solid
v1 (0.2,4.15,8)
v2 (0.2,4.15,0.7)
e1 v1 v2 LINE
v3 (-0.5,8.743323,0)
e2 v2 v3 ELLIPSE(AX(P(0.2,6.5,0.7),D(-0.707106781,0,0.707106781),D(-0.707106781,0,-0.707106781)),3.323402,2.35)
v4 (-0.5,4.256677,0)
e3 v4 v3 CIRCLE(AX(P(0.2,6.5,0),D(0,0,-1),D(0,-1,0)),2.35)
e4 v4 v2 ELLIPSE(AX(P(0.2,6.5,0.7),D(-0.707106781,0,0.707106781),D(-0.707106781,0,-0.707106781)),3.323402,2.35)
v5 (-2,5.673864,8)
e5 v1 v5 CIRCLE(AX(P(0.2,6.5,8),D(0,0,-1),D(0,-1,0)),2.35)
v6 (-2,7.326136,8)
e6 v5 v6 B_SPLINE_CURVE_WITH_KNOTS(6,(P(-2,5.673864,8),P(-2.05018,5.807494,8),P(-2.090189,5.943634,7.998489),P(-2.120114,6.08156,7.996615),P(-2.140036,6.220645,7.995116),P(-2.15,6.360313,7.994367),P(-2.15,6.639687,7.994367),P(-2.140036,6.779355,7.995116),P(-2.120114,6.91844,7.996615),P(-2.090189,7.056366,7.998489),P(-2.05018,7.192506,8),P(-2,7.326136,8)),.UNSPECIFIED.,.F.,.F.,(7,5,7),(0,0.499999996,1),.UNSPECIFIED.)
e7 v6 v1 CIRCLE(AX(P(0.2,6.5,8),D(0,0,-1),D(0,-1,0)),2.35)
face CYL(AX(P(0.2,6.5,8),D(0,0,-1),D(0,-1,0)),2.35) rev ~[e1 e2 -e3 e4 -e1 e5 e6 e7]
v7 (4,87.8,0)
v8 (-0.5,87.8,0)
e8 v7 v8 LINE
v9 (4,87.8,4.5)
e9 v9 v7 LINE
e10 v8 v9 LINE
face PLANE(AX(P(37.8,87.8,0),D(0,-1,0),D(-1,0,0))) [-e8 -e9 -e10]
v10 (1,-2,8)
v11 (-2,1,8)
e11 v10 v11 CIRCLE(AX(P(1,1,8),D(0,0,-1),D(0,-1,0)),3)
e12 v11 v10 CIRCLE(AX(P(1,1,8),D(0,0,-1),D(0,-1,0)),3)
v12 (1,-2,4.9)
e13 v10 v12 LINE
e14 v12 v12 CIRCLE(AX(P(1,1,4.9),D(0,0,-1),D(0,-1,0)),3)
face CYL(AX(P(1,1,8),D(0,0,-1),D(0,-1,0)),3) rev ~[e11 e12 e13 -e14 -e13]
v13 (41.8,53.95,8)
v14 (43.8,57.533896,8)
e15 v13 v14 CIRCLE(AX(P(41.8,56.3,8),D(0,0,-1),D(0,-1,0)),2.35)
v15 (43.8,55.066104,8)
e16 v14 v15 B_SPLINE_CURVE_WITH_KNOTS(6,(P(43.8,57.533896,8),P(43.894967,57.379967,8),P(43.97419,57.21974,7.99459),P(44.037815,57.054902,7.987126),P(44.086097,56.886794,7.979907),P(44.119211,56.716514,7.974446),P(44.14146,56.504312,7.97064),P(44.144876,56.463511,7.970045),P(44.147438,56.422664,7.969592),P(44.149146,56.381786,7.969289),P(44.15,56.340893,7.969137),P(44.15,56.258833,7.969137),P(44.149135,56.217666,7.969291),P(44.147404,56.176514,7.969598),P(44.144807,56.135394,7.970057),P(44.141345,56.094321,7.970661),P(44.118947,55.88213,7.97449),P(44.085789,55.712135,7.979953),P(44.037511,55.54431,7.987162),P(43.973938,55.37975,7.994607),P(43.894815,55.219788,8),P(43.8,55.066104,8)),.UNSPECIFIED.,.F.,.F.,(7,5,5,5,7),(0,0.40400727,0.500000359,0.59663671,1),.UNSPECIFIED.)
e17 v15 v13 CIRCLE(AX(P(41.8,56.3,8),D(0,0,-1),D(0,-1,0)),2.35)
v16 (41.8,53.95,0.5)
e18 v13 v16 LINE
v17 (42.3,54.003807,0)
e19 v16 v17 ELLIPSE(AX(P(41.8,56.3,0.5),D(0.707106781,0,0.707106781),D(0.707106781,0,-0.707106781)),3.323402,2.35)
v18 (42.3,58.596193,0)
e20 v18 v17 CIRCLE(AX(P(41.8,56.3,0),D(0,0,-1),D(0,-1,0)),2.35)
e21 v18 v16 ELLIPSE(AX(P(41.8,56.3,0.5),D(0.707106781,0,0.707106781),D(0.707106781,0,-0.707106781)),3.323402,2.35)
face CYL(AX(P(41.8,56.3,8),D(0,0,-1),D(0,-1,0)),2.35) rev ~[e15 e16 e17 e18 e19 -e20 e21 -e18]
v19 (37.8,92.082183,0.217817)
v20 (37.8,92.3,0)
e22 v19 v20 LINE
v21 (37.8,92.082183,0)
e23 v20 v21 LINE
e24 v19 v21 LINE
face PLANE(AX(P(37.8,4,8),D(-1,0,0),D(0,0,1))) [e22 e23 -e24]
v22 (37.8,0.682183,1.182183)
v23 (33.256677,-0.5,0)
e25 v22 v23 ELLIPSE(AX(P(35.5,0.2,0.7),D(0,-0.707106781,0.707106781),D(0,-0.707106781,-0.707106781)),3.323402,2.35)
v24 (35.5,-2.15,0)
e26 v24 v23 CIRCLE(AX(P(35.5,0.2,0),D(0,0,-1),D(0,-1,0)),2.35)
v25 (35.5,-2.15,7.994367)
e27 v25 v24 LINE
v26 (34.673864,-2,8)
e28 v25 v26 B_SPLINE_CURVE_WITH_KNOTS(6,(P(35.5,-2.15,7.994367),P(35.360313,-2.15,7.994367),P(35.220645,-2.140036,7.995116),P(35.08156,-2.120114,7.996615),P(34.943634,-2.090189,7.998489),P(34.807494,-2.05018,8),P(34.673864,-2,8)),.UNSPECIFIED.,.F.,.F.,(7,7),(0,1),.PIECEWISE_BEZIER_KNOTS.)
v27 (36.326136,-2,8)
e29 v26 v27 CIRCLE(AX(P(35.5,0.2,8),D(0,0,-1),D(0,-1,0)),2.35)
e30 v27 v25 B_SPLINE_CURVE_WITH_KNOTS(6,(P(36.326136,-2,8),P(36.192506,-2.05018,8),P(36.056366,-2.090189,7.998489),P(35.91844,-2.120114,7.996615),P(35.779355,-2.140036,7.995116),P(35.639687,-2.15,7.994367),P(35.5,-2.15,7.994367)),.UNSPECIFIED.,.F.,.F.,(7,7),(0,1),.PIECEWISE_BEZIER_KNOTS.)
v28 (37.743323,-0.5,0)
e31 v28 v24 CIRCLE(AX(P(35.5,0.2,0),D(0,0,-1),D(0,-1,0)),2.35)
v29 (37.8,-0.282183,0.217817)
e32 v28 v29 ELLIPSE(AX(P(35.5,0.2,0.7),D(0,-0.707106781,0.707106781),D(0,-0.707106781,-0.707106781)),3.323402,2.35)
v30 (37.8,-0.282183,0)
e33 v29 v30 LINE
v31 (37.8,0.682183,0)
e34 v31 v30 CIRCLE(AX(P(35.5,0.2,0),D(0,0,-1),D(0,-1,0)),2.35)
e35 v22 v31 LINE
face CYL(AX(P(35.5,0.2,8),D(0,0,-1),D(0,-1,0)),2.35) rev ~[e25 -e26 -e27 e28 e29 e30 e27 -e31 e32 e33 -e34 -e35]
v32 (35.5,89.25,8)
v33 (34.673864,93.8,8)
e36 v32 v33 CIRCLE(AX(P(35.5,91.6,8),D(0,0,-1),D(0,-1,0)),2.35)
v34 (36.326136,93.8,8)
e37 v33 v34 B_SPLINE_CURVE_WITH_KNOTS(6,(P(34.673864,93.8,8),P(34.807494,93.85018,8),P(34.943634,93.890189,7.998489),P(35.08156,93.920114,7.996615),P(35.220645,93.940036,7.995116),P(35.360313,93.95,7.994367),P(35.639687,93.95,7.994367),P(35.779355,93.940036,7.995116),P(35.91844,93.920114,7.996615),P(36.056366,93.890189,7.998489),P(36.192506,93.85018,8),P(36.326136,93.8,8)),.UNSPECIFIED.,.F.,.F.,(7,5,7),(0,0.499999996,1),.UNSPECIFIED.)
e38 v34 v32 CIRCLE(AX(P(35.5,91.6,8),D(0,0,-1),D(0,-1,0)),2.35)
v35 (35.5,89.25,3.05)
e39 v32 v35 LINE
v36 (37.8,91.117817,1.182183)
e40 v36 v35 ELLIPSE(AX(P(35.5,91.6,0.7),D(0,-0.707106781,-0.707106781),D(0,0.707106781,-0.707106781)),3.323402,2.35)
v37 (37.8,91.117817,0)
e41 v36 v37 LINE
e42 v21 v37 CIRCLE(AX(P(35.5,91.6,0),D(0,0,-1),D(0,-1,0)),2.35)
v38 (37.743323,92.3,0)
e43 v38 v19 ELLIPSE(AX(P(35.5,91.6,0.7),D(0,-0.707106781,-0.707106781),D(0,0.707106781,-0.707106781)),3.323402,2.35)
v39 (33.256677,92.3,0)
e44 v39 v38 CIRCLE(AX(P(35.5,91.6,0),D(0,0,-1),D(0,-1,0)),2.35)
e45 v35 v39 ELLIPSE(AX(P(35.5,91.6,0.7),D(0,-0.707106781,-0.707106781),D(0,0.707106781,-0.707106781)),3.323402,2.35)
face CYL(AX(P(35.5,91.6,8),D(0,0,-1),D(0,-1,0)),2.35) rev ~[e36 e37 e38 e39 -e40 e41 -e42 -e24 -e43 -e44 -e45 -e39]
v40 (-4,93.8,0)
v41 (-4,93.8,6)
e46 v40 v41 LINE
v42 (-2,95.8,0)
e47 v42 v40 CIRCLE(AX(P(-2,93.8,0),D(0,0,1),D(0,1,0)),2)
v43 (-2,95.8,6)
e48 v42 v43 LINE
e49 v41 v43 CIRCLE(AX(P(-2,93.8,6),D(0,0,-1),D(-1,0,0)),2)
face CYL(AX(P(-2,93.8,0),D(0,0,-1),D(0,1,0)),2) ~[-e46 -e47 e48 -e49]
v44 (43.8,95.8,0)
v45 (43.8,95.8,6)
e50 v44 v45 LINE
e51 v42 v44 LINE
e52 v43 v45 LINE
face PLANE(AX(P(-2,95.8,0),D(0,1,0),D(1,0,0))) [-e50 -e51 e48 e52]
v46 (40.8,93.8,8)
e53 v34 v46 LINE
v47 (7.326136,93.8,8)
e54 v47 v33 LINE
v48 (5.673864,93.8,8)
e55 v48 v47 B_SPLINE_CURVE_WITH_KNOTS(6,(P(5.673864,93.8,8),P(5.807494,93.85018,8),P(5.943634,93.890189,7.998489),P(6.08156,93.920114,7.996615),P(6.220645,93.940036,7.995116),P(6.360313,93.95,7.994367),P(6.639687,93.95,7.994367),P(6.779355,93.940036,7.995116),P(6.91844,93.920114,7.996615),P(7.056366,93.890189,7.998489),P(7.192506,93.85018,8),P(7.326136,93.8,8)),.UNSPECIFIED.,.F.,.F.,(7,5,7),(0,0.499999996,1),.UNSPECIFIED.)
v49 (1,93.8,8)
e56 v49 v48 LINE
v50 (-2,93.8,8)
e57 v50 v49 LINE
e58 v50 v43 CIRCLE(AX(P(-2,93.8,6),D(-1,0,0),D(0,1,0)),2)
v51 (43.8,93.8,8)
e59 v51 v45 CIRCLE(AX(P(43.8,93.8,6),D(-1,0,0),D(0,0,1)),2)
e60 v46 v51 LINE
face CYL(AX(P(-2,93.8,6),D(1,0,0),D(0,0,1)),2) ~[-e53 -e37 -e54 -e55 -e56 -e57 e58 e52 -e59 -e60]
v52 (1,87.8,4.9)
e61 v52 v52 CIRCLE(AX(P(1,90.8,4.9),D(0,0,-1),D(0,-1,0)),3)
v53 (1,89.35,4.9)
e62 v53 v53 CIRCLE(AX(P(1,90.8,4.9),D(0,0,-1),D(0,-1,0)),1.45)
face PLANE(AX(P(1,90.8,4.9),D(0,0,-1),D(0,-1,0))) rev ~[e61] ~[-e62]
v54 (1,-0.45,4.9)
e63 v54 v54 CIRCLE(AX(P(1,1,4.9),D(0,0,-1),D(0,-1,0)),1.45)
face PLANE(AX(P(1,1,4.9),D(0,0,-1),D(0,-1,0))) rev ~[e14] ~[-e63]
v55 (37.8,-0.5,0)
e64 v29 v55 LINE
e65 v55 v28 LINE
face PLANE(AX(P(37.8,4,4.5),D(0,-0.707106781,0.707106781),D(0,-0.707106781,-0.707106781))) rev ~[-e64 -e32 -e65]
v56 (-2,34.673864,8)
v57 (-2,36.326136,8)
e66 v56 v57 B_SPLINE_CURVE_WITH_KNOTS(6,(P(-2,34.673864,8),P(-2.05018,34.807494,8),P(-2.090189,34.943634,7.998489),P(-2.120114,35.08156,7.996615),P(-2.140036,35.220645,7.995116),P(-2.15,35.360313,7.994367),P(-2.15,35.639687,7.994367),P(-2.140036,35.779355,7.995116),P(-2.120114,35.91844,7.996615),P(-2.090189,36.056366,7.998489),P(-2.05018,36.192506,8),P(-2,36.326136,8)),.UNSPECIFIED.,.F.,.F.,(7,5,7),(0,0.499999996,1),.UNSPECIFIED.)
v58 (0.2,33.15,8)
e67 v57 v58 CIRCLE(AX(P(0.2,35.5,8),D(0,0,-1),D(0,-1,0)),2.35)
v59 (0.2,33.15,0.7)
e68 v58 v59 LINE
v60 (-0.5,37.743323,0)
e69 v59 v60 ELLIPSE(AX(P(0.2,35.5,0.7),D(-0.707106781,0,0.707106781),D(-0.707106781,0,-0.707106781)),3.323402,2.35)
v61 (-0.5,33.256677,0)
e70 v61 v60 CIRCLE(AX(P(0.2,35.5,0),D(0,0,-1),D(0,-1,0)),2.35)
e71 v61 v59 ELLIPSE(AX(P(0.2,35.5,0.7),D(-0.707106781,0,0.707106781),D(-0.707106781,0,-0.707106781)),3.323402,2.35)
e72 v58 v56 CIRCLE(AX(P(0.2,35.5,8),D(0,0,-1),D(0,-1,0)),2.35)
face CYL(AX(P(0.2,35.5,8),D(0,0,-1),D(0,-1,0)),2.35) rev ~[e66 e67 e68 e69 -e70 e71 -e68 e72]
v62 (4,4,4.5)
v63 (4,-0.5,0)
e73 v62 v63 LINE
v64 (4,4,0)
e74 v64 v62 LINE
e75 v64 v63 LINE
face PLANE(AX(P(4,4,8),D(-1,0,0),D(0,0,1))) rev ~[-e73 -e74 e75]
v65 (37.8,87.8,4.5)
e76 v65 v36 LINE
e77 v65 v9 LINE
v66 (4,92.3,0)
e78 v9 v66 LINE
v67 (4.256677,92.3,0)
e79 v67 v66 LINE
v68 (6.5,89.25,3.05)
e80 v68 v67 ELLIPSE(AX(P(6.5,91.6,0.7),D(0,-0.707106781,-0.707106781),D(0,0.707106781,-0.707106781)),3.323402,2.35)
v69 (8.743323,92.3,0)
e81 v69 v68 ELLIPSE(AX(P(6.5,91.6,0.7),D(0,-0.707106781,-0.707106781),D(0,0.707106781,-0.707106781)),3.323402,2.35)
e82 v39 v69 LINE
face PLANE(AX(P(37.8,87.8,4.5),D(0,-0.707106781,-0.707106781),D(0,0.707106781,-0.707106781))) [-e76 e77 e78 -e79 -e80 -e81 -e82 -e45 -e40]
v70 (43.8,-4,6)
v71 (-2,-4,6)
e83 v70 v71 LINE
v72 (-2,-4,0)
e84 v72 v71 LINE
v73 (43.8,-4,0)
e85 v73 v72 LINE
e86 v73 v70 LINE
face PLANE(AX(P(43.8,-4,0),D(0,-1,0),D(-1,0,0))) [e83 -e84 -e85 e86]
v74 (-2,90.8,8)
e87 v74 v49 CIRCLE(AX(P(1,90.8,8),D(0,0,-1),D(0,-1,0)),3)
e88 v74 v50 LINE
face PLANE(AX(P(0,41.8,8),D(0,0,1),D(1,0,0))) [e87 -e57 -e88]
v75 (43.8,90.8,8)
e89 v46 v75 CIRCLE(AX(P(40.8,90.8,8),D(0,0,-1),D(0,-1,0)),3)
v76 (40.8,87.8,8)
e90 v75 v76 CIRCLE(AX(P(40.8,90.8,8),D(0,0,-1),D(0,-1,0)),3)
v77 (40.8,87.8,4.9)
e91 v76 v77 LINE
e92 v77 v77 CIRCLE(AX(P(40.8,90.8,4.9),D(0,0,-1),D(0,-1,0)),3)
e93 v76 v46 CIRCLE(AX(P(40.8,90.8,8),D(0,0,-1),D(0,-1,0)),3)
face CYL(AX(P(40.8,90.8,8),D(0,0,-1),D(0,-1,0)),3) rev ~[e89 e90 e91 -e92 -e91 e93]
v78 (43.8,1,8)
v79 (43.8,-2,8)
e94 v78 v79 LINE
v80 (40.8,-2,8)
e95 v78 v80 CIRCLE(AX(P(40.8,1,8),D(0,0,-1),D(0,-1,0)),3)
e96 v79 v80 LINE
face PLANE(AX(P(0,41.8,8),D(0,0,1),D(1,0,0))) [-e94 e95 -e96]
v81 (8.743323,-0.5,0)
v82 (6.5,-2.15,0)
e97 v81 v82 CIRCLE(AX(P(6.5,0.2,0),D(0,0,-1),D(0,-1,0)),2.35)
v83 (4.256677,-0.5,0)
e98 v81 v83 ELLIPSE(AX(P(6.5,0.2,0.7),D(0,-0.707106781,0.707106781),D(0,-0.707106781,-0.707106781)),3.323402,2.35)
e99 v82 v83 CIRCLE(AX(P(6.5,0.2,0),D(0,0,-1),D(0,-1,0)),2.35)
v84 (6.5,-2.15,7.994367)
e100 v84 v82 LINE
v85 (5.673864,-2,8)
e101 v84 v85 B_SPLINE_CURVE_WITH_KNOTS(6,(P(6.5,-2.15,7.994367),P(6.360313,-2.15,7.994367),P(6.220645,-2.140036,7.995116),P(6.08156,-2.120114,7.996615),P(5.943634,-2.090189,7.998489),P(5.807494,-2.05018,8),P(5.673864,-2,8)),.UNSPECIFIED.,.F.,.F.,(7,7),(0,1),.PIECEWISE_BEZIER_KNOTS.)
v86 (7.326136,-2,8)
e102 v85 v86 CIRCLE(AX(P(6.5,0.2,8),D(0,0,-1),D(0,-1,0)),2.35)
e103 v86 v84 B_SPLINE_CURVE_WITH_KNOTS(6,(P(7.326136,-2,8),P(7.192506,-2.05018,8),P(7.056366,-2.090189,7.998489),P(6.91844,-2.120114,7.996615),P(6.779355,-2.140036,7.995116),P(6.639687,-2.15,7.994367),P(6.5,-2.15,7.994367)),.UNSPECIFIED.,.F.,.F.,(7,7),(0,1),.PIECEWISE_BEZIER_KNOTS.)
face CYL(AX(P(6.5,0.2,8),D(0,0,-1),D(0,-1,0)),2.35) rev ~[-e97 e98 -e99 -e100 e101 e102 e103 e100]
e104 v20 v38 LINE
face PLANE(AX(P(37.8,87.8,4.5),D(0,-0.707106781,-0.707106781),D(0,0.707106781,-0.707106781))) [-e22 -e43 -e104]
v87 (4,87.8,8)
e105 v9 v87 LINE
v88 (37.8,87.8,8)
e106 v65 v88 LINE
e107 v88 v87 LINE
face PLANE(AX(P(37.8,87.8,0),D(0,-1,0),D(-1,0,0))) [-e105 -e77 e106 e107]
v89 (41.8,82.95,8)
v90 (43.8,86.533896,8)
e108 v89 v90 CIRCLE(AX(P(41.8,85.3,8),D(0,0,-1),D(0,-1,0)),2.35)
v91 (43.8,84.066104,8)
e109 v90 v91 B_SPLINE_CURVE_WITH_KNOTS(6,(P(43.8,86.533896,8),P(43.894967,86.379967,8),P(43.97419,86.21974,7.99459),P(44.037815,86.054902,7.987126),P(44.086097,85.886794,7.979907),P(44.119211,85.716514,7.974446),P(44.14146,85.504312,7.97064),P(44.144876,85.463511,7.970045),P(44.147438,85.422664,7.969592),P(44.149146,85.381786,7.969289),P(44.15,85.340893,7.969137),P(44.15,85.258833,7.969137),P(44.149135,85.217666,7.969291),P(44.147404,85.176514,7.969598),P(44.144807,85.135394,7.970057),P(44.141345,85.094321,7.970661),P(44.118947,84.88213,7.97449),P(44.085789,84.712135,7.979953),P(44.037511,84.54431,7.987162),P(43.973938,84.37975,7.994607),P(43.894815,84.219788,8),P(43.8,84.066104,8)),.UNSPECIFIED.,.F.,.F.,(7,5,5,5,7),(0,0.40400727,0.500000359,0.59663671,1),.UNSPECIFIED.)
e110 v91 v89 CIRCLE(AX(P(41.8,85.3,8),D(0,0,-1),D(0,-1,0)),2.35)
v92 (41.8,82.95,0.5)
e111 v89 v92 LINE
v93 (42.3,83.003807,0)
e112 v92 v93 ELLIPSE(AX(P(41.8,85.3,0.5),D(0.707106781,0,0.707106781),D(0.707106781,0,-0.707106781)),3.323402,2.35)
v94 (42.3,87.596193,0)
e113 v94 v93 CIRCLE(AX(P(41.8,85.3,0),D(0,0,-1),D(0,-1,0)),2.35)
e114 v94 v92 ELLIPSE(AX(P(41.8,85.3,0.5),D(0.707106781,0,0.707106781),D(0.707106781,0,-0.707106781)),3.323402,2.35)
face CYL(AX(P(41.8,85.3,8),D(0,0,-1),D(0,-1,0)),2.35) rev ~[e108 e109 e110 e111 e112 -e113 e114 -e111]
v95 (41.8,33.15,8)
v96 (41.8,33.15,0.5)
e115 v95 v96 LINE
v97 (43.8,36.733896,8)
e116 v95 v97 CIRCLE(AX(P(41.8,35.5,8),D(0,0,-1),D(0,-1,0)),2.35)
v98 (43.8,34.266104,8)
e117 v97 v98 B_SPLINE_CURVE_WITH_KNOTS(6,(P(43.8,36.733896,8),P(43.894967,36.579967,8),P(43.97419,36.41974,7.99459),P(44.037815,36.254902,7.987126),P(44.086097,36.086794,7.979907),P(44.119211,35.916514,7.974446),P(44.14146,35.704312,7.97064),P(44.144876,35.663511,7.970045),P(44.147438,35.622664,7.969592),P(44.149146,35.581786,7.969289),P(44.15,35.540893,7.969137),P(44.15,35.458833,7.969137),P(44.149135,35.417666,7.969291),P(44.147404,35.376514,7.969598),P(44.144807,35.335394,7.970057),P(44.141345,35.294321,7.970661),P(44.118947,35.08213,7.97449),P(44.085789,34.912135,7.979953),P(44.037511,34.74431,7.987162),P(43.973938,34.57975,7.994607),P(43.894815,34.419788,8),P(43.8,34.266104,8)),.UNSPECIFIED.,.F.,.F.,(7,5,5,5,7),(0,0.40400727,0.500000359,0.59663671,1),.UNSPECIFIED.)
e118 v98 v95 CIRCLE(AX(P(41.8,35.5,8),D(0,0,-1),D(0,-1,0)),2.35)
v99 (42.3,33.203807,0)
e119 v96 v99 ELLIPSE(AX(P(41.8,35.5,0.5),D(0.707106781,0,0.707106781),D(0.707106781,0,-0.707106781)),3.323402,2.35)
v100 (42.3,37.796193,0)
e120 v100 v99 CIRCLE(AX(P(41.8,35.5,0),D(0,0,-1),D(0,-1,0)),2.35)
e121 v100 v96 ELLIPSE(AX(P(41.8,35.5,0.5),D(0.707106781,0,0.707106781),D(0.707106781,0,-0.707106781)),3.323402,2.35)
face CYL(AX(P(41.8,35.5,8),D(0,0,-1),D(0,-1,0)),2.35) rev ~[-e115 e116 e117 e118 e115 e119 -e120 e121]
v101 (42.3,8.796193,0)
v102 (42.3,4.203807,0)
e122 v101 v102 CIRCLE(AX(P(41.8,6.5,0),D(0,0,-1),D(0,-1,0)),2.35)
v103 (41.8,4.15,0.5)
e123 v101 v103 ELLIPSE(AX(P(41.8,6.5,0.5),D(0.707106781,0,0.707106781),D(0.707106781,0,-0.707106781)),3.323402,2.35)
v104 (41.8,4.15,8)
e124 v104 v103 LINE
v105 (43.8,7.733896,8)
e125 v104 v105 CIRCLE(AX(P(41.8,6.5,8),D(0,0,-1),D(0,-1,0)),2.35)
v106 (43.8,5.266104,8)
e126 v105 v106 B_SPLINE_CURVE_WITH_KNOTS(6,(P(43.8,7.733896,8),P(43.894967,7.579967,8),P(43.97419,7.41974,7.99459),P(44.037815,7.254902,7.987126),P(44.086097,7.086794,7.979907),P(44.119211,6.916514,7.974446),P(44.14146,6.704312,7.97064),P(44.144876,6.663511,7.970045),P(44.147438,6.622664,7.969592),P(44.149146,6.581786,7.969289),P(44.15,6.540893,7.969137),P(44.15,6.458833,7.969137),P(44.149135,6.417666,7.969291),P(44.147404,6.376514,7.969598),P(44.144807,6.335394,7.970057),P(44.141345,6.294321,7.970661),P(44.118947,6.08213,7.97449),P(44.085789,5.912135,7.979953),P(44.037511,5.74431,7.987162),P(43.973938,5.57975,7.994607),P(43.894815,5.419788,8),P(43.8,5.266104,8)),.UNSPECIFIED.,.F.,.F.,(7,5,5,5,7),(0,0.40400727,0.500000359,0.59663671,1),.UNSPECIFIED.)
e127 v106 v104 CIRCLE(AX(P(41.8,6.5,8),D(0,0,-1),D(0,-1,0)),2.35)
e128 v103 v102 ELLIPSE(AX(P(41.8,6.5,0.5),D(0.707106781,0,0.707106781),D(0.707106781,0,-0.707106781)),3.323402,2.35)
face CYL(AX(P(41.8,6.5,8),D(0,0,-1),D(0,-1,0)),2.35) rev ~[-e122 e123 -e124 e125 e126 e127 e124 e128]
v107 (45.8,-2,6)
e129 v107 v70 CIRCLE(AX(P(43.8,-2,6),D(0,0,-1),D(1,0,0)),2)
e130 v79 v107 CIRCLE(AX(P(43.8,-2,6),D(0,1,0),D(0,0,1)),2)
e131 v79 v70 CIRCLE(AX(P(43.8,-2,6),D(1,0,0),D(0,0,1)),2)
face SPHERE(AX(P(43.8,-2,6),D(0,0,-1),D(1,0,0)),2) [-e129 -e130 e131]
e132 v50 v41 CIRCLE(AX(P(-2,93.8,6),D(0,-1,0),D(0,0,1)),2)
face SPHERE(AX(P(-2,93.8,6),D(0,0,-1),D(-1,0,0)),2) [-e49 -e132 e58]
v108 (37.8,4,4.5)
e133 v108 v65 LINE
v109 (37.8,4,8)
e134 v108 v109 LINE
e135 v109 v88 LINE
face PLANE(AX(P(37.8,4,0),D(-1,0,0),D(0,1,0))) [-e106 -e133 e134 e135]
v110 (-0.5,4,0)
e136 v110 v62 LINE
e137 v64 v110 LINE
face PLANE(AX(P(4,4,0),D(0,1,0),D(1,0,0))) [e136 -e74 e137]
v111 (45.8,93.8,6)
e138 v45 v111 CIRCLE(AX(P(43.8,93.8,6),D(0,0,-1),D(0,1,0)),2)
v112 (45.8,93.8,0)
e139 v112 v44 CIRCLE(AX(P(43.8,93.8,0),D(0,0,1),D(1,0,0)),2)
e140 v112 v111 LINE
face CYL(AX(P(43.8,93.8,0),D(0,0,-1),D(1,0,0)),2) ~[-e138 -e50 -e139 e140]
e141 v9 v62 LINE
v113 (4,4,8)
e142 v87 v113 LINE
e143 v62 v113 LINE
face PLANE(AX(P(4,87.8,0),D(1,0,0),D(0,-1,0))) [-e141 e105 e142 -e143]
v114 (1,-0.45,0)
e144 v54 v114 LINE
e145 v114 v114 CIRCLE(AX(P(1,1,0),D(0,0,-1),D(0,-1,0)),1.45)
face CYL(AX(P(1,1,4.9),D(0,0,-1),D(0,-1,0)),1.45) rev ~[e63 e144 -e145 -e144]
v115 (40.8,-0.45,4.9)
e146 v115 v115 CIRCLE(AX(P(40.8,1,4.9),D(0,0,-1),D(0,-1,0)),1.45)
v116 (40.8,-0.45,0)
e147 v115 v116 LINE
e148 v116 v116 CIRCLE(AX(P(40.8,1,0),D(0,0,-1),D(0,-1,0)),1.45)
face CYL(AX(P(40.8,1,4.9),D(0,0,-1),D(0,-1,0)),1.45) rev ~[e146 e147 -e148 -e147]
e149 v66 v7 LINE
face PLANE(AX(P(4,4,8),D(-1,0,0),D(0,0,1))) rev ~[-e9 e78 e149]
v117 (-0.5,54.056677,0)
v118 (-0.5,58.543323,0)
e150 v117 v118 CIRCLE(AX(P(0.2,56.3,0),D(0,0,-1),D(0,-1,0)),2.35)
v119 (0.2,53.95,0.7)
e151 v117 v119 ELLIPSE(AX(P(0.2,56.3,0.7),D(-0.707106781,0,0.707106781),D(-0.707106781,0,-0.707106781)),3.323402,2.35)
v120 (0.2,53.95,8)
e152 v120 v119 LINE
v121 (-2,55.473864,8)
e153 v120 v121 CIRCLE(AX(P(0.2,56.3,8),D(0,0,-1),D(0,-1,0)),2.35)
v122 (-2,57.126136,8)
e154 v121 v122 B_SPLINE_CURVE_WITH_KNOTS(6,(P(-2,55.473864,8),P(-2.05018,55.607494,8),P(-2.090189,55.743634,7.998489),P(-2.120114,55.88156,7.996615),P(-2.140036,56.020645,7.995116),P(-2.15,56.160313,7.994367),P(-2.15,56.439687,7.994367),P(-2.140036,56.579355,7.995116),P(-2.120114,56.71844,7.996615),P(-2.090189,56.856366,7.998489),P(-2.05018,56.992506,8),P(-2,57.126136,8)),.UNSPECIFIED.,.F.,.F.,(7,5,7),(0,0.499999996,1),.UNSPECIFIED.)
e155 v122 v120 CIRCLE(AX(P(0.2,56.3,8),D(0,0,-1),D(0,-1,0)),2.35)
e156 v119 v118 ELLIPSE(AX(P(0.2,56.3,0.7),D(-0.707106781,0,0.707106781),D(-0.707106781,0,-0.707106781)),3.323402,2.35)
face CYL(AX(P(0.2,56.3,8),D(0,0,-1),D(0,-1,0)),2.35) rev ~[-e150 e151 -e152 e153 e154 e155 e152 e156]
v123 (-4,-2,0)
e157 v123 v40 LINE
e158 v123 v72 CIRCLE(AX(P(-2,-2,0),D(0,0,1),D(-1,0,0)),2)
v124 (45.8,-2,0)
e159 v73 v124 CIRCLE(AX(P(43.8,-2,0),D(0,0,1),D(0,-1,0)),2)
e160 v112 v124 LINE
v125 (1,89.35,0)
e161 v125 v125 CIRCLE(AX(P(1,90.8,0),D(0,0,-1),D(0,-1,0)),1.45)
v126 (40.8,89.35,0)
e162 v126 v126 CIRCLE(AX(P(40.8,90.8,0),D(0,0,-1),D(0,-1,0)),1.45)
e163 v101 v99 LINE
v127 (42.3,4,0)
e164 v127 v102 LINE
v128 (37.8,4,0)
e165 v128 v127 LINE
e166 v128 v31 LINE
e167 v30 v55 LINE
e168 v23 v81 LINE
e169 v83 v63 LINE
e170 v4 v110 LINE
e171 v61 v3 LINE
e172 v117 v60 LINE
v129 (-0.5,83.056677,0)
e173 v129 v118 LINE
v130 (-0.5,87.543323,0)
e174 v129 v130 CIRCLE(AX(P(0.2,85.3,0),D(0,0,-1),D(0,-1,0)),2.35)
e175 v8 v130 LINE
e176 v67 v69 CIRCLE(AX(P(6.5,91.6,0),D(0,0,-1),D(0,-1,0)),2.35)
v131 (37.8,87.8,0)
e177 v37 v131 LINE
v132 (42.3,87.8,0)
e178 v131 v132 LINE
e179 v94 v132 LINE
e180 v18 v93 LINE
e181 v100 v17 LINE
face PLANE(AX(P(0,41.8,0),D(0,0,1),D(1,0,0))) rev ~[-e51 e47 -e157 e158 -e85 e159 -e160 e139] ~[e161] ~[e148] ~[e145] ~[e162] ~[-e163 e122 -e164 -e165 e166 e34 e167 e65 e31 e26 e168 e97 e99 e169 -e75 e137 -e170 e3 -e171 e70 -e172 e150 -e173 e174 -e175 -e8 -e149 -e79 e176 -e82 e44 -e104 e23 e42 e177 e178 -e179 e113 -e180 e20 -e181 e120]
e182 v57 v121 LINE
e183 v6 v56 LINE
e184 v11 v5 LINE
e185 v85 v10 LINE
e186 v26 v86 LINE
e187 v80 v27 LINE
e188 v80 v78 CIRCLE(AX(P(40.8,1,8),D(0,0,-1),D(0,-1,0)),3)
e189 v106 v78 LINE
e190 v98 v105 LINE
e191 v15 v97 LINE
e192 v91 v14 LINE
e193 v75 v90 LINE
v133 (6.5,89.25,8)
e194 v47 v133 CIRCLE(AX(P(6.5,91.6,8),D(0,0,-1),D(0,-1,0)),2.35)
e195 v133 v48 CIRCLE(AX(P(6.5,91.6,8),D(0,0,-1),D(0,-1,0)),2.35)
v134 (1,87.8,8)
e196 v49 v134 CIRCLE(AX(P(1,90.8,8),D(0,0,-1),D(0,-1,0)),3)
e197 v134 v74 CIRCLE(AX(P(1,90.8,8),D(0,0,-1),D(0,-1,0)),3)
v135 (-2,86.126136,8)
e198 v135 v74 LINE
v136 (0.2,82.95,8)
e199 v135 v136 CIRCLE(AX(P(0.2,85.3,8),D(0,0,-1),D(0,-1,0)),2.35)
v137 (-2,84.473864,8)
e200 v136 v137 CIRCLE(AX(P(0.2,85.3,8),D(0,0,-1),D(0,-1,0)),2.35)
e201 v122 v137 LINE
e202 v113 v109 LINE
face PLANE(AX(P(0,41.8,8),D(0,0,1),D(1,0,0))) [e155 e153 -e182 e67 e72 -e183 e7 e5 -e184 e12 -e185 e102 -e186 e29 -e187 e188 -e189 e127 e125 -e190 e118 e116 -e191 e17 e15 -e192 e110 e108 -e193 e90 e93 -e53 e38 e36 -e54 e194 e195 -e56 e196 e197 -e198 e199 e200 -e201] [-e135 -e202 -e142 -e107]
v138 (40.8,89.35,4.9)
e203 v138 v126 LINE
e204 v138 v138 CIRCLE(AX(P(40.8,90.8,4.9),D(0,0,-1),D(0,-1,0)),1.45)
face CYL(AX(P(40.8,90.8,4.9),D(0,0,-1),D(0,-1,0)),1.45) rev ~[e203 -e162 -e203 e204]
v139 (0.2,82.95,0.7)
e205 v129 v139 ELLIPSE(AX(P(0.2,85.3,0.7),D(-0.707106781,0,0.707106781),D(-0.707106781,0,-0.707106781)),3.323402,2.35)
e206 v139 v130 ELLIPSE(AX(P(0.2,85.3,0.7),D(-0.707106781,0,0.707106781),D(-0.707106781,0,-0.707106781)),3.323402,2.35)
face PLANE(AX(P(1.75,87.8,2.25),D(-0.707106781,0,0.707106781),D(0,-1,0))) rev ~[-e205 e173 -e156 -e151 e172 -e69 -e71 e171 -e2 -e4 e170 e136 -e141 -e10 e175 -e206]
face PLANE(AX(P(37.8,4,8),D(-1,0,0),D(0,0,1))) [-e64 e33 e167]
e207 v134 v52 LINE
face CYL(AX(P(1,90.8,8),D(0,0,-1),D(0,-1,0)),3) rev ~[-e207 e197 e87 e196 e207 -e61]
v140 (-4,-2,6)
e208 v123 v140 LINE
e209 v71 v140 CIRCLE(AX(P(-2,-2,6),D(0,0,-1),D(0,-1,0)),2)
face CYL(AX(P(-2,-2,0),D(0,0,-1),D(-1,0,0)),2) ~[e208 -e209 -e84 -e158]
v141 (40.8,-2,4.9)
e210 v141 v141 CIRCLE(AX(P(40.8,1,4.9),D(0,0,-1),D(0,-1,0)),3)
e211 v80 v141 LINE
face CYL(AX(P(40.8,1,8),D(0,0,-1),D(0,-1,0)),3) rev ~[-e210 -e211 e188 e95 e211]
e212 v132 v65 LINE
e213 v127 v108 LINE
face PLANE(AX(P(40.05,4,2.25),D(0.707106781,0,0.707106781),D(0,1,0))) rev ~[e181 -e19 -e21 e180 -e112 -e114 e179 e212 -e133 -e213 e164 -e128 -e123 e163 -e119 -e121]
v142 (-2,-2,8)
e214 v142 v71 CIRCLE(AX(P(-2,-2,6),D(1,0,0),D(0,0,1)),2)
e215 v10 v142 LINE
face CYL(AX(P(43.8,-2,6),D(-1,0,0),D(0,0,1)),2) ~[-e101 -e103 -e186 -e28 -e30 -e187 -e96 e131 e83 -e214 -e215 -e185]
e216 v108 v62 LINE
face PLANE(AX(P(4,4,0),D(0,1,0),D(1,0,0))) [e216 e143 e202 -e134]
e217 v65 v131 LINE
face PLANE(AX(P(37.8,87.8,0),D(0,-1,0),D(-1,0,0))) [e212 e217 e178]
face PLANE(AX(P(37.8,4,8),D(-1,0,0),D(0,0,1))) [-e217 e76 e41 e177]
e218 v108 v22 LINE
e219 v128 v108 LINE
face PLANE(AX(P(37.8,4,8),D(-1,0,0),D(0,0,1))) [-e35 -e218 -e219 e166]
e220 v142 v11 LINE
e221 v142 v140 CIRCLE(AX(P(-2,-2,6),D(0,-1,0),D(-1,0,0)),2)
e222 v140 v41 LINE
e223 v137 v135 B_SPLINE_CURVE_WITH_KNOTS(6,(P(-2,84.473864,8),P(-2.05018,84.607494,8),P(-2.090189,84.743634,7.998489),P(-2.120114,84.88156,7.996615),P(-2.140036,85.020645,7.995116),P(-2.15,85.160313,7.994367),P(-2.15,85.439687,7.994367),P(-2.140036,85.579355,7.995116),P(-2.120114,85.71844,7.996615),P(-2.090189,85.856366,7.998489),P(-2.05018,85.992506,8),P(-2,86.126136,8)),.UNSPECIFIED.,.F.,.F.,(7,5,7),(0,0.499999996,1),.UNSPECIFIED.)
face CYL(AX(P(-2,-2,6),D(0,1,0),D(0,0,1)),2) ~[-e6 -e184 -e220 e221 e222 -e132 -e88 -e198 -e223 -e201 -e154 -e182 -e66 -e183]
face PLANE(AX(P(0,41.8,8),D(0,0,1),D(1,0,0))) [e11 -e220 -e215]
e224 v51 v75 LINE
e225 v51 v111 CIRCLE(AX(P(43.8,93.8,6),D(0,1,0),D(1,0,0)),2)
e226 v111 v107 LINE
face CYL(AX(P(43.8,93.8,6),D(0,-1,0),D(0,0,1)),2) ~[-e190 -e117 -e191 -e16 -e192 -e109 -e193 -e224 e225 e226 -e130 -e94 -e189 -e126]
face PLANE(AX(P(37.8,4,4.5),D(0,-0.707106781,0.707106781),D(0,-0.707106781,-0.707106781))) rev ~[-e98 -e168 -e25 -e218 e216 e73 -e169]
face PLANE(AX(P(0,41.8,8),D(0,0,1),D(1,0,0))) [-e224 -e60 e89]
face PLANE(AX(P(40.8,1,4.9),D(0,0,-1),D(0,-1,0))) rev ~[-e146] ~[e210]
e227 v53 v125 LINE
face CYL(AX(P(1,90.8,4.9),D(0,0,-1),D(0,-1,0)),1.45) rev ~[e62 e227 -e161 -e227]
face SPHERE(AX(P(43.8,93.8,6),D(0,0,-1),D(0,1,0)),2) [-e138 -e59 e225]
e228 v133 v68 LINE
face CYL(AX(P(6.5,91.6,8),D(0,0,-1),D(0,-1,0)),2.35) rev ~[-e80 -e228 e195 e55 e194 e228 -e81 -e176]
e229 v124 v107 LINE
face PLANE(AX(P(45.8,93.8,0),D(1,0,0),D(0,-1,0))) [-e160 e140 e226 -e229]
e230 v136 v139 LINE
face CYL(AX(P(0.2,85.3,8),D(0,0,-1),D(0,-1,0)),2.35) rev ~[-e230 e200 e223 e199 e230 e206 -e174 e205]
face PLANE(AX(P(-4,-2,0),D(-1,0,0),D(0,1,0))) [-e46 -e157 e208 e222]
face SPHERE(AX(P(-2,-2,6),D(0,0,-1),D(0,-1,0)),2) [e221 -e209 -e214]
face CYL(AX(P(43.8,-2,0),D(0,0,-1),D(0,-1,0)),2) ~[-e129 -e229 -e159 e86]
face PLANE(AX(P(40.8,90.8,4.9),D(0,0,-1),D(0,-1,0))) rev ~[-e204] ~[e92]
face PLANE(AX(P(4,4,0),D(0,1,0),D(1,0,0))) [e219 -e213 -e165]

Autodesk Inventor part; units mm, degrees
ref_plane "YZ Plane" through (0, 0, 0) normal (1, 0, 0) x (0, 1, 0)
ref_plane "XZ Plane" through (0, 0, 0) normal (0, 1, 0) x (-1, 0, 0)
ref_plane "XY Plane" through (0, 0, 0) normal (0, 0, 1) x (1, 0, 0)
ref_plane "Work Plane1" through (0, 41.8, 0) normal (0, 0, 1) x (1, 0, 0)
sketch "Sketch1" plane through (0, 41.8, 0) normal (0, 0, 1) x (1, 0, 0)
  circle A0 centre (0.9, -0.9) radius 1.45 construction
  line L0 (4, -1.5) -> (1.5, -4) construction
  line L1 (4, -1.5) -> (4, 4) construction
  line L2 (4, 4) -> (-2, 4) construction
  arc A1 (-2, 4) -> (-4, 2) centre (-2, 2) ccw construction
  line L3 (-4, 2) -> (-4, -4) construction
  line L4 (-4, -4) -> (1.5, -4) construction
  arc A2 (45.8, 2) -> (43.8, 4) centre (43.8, 2) ccw construction
  line L5 (43.8, 4) -> (37.8, 4) construction
  line L6 (37.8, 4) -> (37.8, -1.5) construction
  line L7 (40.3, -4) -> (45.8, -4) construction
  line L8 (45.8, -4) -> (45.8, 2) construction
  circle A3 centre (40.9, -0.9) radius 1.45 construction
  line L9 (37.8, -40.3) -> (40.3, -37.8) construction
  line L10 (37.8, -40.3) -> (37.8, -45.8) construction
  line L11 (37.8, -45.8) -> (43.8, -45.8) construction
  arc A4 (43.8, -45.8) -> (45.8, -43.8) centre (43.8, -43.8) ccw construction
  line L12 (45.8, -43.8) -> (45.8, -37.8) construction
  line L13 (45.8, -37.8) -> (40.3, -37.8) construction
  circle A5 centre (40.9, -40.9) radius 1.45 construction
  circle A6 centre (0.9, -40.9) radius 1.45 construction
  line L14 (1.5, -37.8) -> (4, -40.3) construction
  line L15 (1.5, -37.8) -> (-4, -37.8) construction
  line L16 (-4, -37.8) -> (-4, -43.8) construction
  arc A7 (-4, -43.8) -> (-2, -45.8) centre (-2, -43.8) ccw construction
  line L17 (-2, -45.8) -> (4, -45.8) construction
  line L18 (4, -45.8) -> (4, -40.3) construction
  line L19 (40.3, -4) -> (37.8, -1.5) construction
  line L20 (-2, 54) -> (43.8, 54)
  line L21 (45.8, 52) -> (45.8, -43.8)
  line L22 (43.8, -45.8) -> (-2, -45.8)
  line L23 (-4, -43.8) -> (-4, 52)
  line L24 (40.3, -37.8) -> (40.3, 46)
  line L25 (37.8, 48.5) -> (4, 48.5)
  line L26 (1.5, 46) -> (1.5, -37.8)
  line L27 (4, -40.3) -> (37.8, -40.3)
  line L28 (37.8, -40.3) -> (40.3, -37.8)
  line L29 (4, -40.3) -> (1.5, -37.8)
  line L30 (4, 48.5) -> (1.5, 46)
  line L31 (40.3, 46) -> (37.8, 48.5)
  arc A8 (45.8, 52) -> (43.8, 54) centre (43.8, 52) ccw
  arc A9 (43.8, -45.8) -> (45.8, -43.8) centre (43.8, -43.8) ccw
  arc A10 (-4, -43.8) -> (-2, -45.8) centre (-2, -43.8) ccw
  arc A11 (-2, 54) -> (-4, 52) centre (-2, 52) ccw
  circle A12 centre (1, -1) radius 1.4 construction
  circle A13 centre (40.8, -1) radius 1.4 construction
  circle A14 centre (40.8, -40.8) radius 1.4
  circle A15 centre (1, -40.8) radius 1.4
  circle A16 centre (20.9, 29.1) radius 19.4 construction
  line L32 (4, 46) -> (4, -37.8)
  line L33 (4, -37.8) -> (37.8, -37.8)
  line L34 (37.8, -37.8) -> (37.8, 46)
  line L35 (37.8, 46) -> (4, 46)
  point P0 (45.8, -45.8)
  point P1 (45.8, 54)
  point P2 (-4, -45.8)
  point P3 (40.3, -40.3)
  point P4 (40.3, 48.5)
  point P5 (1.5, 48.5)
  point P6 (1.5, -40.3)
  point P7 (40.8, 49)
  dimension "d34" = 49.8
  dimension "d35" = 99.8
  dimension "d36" = 5.5
  dimension "d37" = 2.5
  dimension "d38" = 2.5
  dimension "d39" = 2.5
  dimension "d40" = 2.5
  dimension "d41" = 2.5
  dimension "d42" = 2.5
  dimension "d43" = 2.5
  dimension "d44" = 2.5
  dimension "d45" = 2
  dimension "d46" = 5
  dimension "d47" = 5
  dimension "d48" = 5
  dimension "d49" = 5
  dimension "d50" = 5
  dimension "d51" = 5
  dimension "d52" = 0.5
  dimension "d53" = 5
  dimension "d54" = 5
  dimension "d55" = 2.8
  dimension "d56" = 2.8
  dimension "d57" = 2.8
  dimension "d58" = 2.8
  dimension "d90" = 8
extrude "Extrusion1" add sketch "Sketch1" along normal blind 8 contours L20 A8 L21 A9 L22 A10 L23 A11 | L28 L27 L29 L26 L30 L25 L31 L24
fillet "Fillet1" radius 2 8 edges at (20.9, -4, 8) (45.2142, -3.4142, 8) (45.8, 45.9, 8) (45.2142, 95.2142, 8) (20.9, 95.8, 8) (-3.4142, 95.2142, 8) (-4, 45.9, 8) (-3.4142, -3.4142, 8)
sketch "Sketch2" plane through (-2, -4, 0) normal (0, -1, 0) x (1, 0, 0)
  line L0 (43.8, -4.8712) -> (42.35, -4)
  line L1 (2, -4.8712) -> (0.55, -4)
  line L2 (-2, 0) -> (-2, 6) construction
  line L3 (45.8, 8) -> (0, 8) construction
  line L4 (47.8, 0) -> (47.8, 6) construction
  point P0 (2, 0)
  point P1 (3, 3.1)
  point P2 (42.8, 3.1)
  dimension "d59" = 5
  dimension "d60" = 4.9
  dimension "d61" = 5
  dimension "d62" = 4.9
hole "Hole1" [suppressed]
sketch "Sketch3" plane through (0, 41.8, 8) normal (0, 0, 1) x (1, 0, 0)
  circle A0 centre (20.9, -20.9) radius 16.9 construction
  point P0 (0, -41.8)
sketch "Sketch4" plane through (0, 41.8, 8) normal (0, 0, 1) x (1, 0, 0)
  circle A0 centre (1, -40.8) radius 1.4 projected
  circle A1 centre (40.8, -40.8) radius 1.4 projected
  circle A2 centre (40.8, -1) radius 1.4 projected
  circle A3 centre (1, -1) radius 1.4 projected
  circle A4 centre (40.8, -40.8) radius 1.4 construction
  circle A5 centre (1, -40.8) radius 1.4 construction
  line L0 (4, 46) -> (37.8, 46) construction
  line L1 (37.8, 46) -> (37.8, -37.8) construction
  line L2 (37.8, -37.8) -> (4, -37.8) construction
  line L3 (4, -37.8) -> (4, 46) construction
  line L4 (43.8, -43.8) -> (-2, -43.8) construction
  line L5 (43.8, 52) -> (43.8, -43.8) construction
  line L6 (-2, 52) -> (43.8, 52) construction
  line L7 (-2, -43.8) -> (-2, 52) construction
  line L8 (-4, 52) -> (-4, -43.8) construction
  line L9 (-4, 4.1) -> (45.187, 4.1) construction
  line L10 (-2, -45.8) -> (43.8, -45.8) construction
  circle A6 centre (1, 49) radius 1.4
  circle A7 centre (40.8, 49) radius 1.4
  circle A8 centre (40.8, 9.2) radius 1.4
  circle A9 centre (1, 9.2) radius 1.4
  circle A10 centre (1, 9.2) radius 1.4 construction
  circle A11 centre (40.8, 9.2) radius 1.4 construction
  circle A12 centre (40.8, 49) radius 1.4 construction
  circle A13 centre (1, 49) radius 1.4 construction
  line L11 (37.8, 46) -> (4, 46) construction
  line L12 (43.8, 52) -> (-2, 52) construction
  line L13 (-2, 54) -> (43.8, 54) construction
  line L14 (45.8, -43.8) -> (45.8, 52) projected
  dimension "d95" = 49.9
  dimension "d102" = 5
  dimension "d103" = 5
  dimension "d104" = 39.8
  dimension "d105" = 39.8
  dimension "d106" = 5
  dimension "d107" = 10.2
hole "Hole2" at (1, 1, 8) at (40.8, 1, 8) at (1, 90.8, 8) at (40.8, 90.8, 8) direction (0, 0, -1) diameter 2.9 depth 12 tip angle 118 counterbore diameter 6 counterbore depth 3.1
chamfer "Chamfer2" distance 4.5 angle 45 2 edges at (4, 45.9, 0) (37.8, 45.9, 0)
sketch "Sketch6" plane through (-4, -2, 0) normal (-1, 0, 0) x (0, 0, 1)
  line L0 (0, -2) -> (6, -2) construction
  line L1 (8, 0) -> (8, 95.8) construction
  line L2 (0, 97.8) -> (6, 97.8) construction
  circle A0 centre (3.1, 92.8) radius 1.4 construction
  circle A1 centre (3.1, 3) radius 1.4 construction
  line L3 (4.5, 89.8) -> (4.5, 6) construction
  line L4 (3.1, 3) -> (3.1, 43) construction
  line L5 (3.1, 92.8) -> (3.1, 52.8) construction
  circle A2 centre (3.1, 43) radius 1.4 construction
  circle A3 centre (3.1, 52.8) radius 1.4 construction
  point P0 (0, 2)
  dimension "d63" = 2.8
  dimension "d64" = 2.8
  dimension "d65" = 4.9
  dimension "d66" = 5
  dimension "d67" = 5
  dimension "d68" = 4.9
  dimension "d97" = 40
  dimension "d98" = 40
hole "Hole3" [suppressed]
sketch "Sketch7" plane through (45.8, -2, 0) normal (1, 0, 0) x (0, 0, -1)
  circle A0 centre (-3.1, 92.8) radius 1.4 projected
  circle A1 centre (-3.1, 3) radius 1.4 projected
  circle A2 centre (-3.1, 43) radius 1.4 projected
  circle A3 centre (-3.1, 52.8) radius 1.4 projected
  point P0 (0, 2)
  point P1 (-3, 51.4036)
  point P2 (-3, 54.1964)
hole "Hole4" [suppressed]
sketch "Sketch8" plane through (-2, 95.8, 0) normal (0, 1, 0) x (1, 0, 0)
  circle A0 centre (3, -3.1) radius 1.45 projected
  circle A1 centre (42.8, -3.1) radius 1.45 projected
  point P0 (2, 0)
  point P1 (4.45, -3.1)
  point P2 (4.45, -3.1)
  point P3 (44.25, -3.1)
  point P4 (44.25, -3.1)
hole "Hole5" [suppressed]
sketch "Sketch9" plane through (37.8, 4, 8) normal (-1, 0, 0) x (0, 0, 1)
  line L0 (-8, 0) -> (-3.5, 0) projected
  line L1 (-3.5, 83.8) -> (-8, 83.8) projected
  line L2 (-3.5, 0) -> (-8, -4.5)
  line L3 (-8, 89.8) -> (-8, -6) projected
  line L4 (-3.5, 0) -> (2.864, 0) construction
  line L5 (-8, -4.5) -> (-8, 0)
  line L6 (-3.5, 83.8) -> (-8, 88.3)
  line L7 (-3.5, 83.8) -> (2.864, 83.8) construction
  line L8 (-8, 88.3) -> (-8, 83.8)
  line L9 (-8, 83.8) -> (-3.5, 83.8)
  point P0 (-8, -4)
  dimension "d91" = 135
  dimension "d92" = 135
extrude "Extrusion3" cut sketch "Sketch9" along normal up to surface (33.8 mm away)
sketch "Sketch11" plane through (0, 41.8, 8) normal (0, 0, 1) x (1, 0, 0)
  arc A0 (40.8, 52) -> (43.8, 49) centre (40.8, 49) ccw construction
  line L0 (1, 52) -> (40.8, 52) construction
  arc A1 (-2, 49) -> (1, 52) centre (1, 49) ccw construction
  line L1 (-2, -43.8) -> (-2, -40.8) construction
  line L2 (4, -37.8) -> (4, 46) construction
  line L3 (4, 46) -> (37.8, 46) construction
  line L4 (37.8, 46) -> (37.8, -37.8) construction
  line L5 (43.8, 49) -> (43.8, -40.8) construction
  line L6 (37.8, -37.8) -> (4, -37.8) construction
  arc A2 (1, -43.8) -> (-2, -40.8) centre (1, -40.8) ccw construction
  line L7 (40.8, -43.8) -> (1, -43.8) construction
  arc A3 (43.8, -40.8) -> (40.8, -43.8) centre (40.8, -40.8) ccw construction
  arc A4 (5.4452, 51.9) -> (7.5548, 51.9) centre (6.5, 49.8) ccw
  line L8 (-1.9, 51.9) -> (5.4452, 51.9)
  line L9 (-1.9, 44.5548) -> (-1.9, 51.9)
  arc A5 (-1.9, 42.4452) -> (-1.9, 44.5548) centre (0.2, 43.5) ccw
  line L10 (-1.9, 15.5548) -> (-1.9, 42.4452)
  arc A6 (-1.9, 13.4452) -> (-1.9, 15.5548) centre (0.2, 14.5) ccw
  line L11 (-1.9, 6.1) -> (-1.9, 13.4452)
  line L12 (5.4452, 6.1) -> (-1.9, 6.1)
  arc A7 (7.5548, 6.1) -> (5.4452, 6.1) centre (6.5, 8.2) ccw
  line L13 (34.4452, 6.1) -> (7.5548, 6.1)
  arc A8 (36.5548, 6.1) -> (34.4452, 6.1) centre (35.5, 8.2) ccw
  line L14 (43.9, 6.1) -> (36.5548, 6.1)
  line L15 (43.9, 13.4452) -> (43.9, 6.1)
  arc A9 (43.9, 15.5548) -> (43.9, 13.4452) centre (41.8, 14.5) ccw
  line L16 (43.9, 42.4452) -> (43.9, 15.5548)
  arc A10 (43.9, 44.5548) -> (43.9, 42.4452) centre (41.8, 43.5) ccw
  line L17 (43.9, 51.9) -> (43.9, 44.5548)
  line L18 (36.5548, 51.9) -> (43.9, 51.9)
  arc A11 (34.4452, 51.9) -> (36.5548, 51.9) centre (35.5, 49.8) ccw
  line L19 (7.5548, 51.9) -> (34.4452, 51.9)
  circle A12 centre (1, 9) radius 2.75
  circle A13 centre (41, 49) radius 2.75
  circle A14 centre (41, 9) radius 2.75
  circle A15 centre (1, 49) radius 2.75
  line L20 (4.1, 12.1) -> (4.1, 45.9)
  line L21 (4.1, 45.9) -> (37.9, 45.9)
  line L22 (37.9, 45.9) -> (37.9, 12.1)
  line L23 (37.9, 12.1) -> (4.1, 12.1)
  line L24 (4, -37.8) -> (4, 46) construction
  line L25 (4, 46) -> (37.8, 46) construction
  line L26 (37.8, 46) -> (37.8, -37.8) construction
  line L27 (37.8, -37.8) -> (4, -37.8) construction
  circle A16 centre (41, 9) radius 2.75 construction
  circle A17 centre (1, 9) radius 2.75 construction
  circle A18 centre (1, 49) radius 2.75 construction
  circle A19 centre (40.8, -40.8) radius 2.75 construction
  circle A20 centre (40.8, 49) radius 2.75 construction
  circle A21 centre (1, -40.8) radius 2.75 construction
  circle A22 centre (1, -0.8) radius 2.75 construction
  circle A23 centre (41, -0.8) radius 2.75 construction
  line L28 (-2, 52) -> (43.8, 52) construction
  line L29 (-2, -43.8) -> (-2, 52) construction
  line L30 (43.8, -43.8) -> (-2, -43.8) construction
  line L31 (43.8, 52) -> (43.8, -43.8) construction
  arc A24 (36.5548, -43.7) -> (34.4452, -43.7) centre (35.5, -41.6) ccw
  line L32 (43.9, -7.3548) -> (43.9, -34.2452)
  line L33 (37.9, -3.9) -> (37.9, -37.7)
  line L34 (43.9, 2.1) -> (43.9, -5.2452)
  line L35 (4.1, -37.7) -> (4.1, -3.9)
  line L36 (-1.9, -34.2452) -> (-1.9, -7.3548)
  arc A25 (34.4452, 2.1) -> (36.5548, 2.1) centre (35.5, 0) ccw
  line L37 (7.5548, 2.1) -> (34.4452, 2.1)
  line L38 (4.1, -3.9) -> (37.9, -3.9)
  line L39 (43.9, -36.3548) -> (43.9, -43.7)
  line L40 (43.9, -43.7) -> (36.5548, -43.7)
  line L41 (-1.9, 2.1) -> (5.4452, 2.1)
  arc A26 (5.4452, 2.1) -> (7.5548, 2.1) centre (6.5, 0) ccw
  arc A27 (-1.9, -7.3548) -> (-1.9, -5.2452) centre (0.2, -6.3) ccw
  line L42 (-1.9, -5.2452) -> (-1.9, 2.1)
  line L43 (37.9, -37.7) -> (4.1, -37.7)
  line L44 (34.4452, -43.7) -> (7.5548, -43.7)
  arc A28 (-1.9, -36.3548) -> (-1.9, -34.2452) centre (0.2, -35.3) ccw
  line L45 (-1.9, -43.7) -> (-1.9, -36.3548)
  line L46 (36.5548, 2.1) -> (43.9, 2.1)
  arc A29 (7.5548, -43.7) -> (5.4452, -43.7) centre (6.5, -41.6) ccw
  arc A30 (43.9, -34.2452) -> (43.9, -36.3548) centre (41.8, -35.3) ccw
  circle A31 centre (41, -40.8) radius 2.75
  line L47 (5.4452, -43.7) -> (-1.9, -43.7)
  circle A32 centre (41, -0.8) radius 2.75
  arc A33 (43.9, -5.2452) -> (43.9, -7.3548) centre (41.8, -6.3) ccw
  circle A34 centre (1, -0.8) radius 2.75
  circle A35 centre (1, -40.8) radius 2.75
  line L48 (43.8, 52) -> (43.8, 49) projected
  line L49 (4, -37.8) -> (4, 46) projected
  line L50 (-2, -43.8) -> (-2, -40.8) projected
  arc A36 (43.8, 49) -> (40.8, 52) centre (40.8, 49) ccw projected
  line L51 (40.8, 52) -> (43.8, 52) projected
  arc A37 (40.8, 52) -> (43.8, 49) centre (40.8, 49) ccw projected
  line L52 (1, 52) -> (40.8, 52) projected
  arc A38 (-2, 49) -> (1, 52) centre (1, 49) ccw projected
  line L53 (-2, -40.8) -> (-2, 49) projected
  line L54 (4, 46) -> (37.8, 46) projected
  line L55 (37.8, 46) -> (37.8, -37.8) projected
  line L56 (43.8, 49) -> (43.8, -40.8) projected
  line L57 (43.8, -40.8) -> (43.8, -43.8) projected
  arc A39 (1, 52) -> (-2, 49) centre (1, 49) ccw projected
  line L58 (-2, 52) -> (1, 52) projected
  line L59 (-2, 49) -> (-2, 52) projected
  arc A40 (-2, -40.8) -> (1, -43.8) centre (1, -40.8) ccw projected
  line L60 (1, -43.8) -> (-2, -43.8) projected
  arc A41 (40.8, -43.8) -> (43.8, -40.8) centre (40.8, -40.8) ccw projected
  line L61 (43.8, -43.8) -> (40.8, -43.8) projected
  line L62 (37.8, -37.8) -> (4, -37.8) projected
  line L63 (-2, -40.8) -> (-2, 49) projected
  arc A42 (1, -43.8) -> (-2, -40.8) centre (1, -40.8) ccw projected
  line L64 (40.8, -43.8) -> (1, -43.8) projected
  arc A43 (43.8, -40.8) -> (40.8, -43.8) centre (40.8, -40.8) ccw projected
  arc A44 (-2, -40.8) -> (1, -43.8) centre (1, -40.8) ccw projected
  line L65 (1, -43.8) -> (-2, -43.8) projected
  arc A45 (40.8, -43.8) -> (43.8, -40.8) centre (40.8, -40.8) ccw projected
  line L66 (43.8, -43.8) -> (40.8, -43.8) projected
  line L67 (43.8, -40.8) -> (43.8, -43.8) projected
  point P0 (0, -41.8)
  point P1 (20.9, 4.1)
  point P2 (21, 29)
  point P3 (21, -20.8)
hole "Hole6" at (6.5, 91.6, 8) at (35.5, 91.6, 8) at (41.8, 85.3, 8) at (0.2, 85.3, 8) at (0.2, 56.3, 8) at (41.8, 56.3, 8) at (41.8, 35.5, 8) at (0.2, 35.5, 8) at (0.2, 6.5, 8) at (6.5, 0.2, 8) at (35.5, 0.2, 8) at (41.8, 6.5, 8) direction (0, 0, -1) diameter 4.7 end through all
equation "\"d38\" = d37"
equation "\"d39\" = d37"
equation "\"d40\" = d39"
equation "\"d41\" = d37"
equation "\"d42\" = d41"
equation "\"d43\" = d37"
equation "\"d44\" = d43"
properties part number "10_Lid_2x1_v3"
